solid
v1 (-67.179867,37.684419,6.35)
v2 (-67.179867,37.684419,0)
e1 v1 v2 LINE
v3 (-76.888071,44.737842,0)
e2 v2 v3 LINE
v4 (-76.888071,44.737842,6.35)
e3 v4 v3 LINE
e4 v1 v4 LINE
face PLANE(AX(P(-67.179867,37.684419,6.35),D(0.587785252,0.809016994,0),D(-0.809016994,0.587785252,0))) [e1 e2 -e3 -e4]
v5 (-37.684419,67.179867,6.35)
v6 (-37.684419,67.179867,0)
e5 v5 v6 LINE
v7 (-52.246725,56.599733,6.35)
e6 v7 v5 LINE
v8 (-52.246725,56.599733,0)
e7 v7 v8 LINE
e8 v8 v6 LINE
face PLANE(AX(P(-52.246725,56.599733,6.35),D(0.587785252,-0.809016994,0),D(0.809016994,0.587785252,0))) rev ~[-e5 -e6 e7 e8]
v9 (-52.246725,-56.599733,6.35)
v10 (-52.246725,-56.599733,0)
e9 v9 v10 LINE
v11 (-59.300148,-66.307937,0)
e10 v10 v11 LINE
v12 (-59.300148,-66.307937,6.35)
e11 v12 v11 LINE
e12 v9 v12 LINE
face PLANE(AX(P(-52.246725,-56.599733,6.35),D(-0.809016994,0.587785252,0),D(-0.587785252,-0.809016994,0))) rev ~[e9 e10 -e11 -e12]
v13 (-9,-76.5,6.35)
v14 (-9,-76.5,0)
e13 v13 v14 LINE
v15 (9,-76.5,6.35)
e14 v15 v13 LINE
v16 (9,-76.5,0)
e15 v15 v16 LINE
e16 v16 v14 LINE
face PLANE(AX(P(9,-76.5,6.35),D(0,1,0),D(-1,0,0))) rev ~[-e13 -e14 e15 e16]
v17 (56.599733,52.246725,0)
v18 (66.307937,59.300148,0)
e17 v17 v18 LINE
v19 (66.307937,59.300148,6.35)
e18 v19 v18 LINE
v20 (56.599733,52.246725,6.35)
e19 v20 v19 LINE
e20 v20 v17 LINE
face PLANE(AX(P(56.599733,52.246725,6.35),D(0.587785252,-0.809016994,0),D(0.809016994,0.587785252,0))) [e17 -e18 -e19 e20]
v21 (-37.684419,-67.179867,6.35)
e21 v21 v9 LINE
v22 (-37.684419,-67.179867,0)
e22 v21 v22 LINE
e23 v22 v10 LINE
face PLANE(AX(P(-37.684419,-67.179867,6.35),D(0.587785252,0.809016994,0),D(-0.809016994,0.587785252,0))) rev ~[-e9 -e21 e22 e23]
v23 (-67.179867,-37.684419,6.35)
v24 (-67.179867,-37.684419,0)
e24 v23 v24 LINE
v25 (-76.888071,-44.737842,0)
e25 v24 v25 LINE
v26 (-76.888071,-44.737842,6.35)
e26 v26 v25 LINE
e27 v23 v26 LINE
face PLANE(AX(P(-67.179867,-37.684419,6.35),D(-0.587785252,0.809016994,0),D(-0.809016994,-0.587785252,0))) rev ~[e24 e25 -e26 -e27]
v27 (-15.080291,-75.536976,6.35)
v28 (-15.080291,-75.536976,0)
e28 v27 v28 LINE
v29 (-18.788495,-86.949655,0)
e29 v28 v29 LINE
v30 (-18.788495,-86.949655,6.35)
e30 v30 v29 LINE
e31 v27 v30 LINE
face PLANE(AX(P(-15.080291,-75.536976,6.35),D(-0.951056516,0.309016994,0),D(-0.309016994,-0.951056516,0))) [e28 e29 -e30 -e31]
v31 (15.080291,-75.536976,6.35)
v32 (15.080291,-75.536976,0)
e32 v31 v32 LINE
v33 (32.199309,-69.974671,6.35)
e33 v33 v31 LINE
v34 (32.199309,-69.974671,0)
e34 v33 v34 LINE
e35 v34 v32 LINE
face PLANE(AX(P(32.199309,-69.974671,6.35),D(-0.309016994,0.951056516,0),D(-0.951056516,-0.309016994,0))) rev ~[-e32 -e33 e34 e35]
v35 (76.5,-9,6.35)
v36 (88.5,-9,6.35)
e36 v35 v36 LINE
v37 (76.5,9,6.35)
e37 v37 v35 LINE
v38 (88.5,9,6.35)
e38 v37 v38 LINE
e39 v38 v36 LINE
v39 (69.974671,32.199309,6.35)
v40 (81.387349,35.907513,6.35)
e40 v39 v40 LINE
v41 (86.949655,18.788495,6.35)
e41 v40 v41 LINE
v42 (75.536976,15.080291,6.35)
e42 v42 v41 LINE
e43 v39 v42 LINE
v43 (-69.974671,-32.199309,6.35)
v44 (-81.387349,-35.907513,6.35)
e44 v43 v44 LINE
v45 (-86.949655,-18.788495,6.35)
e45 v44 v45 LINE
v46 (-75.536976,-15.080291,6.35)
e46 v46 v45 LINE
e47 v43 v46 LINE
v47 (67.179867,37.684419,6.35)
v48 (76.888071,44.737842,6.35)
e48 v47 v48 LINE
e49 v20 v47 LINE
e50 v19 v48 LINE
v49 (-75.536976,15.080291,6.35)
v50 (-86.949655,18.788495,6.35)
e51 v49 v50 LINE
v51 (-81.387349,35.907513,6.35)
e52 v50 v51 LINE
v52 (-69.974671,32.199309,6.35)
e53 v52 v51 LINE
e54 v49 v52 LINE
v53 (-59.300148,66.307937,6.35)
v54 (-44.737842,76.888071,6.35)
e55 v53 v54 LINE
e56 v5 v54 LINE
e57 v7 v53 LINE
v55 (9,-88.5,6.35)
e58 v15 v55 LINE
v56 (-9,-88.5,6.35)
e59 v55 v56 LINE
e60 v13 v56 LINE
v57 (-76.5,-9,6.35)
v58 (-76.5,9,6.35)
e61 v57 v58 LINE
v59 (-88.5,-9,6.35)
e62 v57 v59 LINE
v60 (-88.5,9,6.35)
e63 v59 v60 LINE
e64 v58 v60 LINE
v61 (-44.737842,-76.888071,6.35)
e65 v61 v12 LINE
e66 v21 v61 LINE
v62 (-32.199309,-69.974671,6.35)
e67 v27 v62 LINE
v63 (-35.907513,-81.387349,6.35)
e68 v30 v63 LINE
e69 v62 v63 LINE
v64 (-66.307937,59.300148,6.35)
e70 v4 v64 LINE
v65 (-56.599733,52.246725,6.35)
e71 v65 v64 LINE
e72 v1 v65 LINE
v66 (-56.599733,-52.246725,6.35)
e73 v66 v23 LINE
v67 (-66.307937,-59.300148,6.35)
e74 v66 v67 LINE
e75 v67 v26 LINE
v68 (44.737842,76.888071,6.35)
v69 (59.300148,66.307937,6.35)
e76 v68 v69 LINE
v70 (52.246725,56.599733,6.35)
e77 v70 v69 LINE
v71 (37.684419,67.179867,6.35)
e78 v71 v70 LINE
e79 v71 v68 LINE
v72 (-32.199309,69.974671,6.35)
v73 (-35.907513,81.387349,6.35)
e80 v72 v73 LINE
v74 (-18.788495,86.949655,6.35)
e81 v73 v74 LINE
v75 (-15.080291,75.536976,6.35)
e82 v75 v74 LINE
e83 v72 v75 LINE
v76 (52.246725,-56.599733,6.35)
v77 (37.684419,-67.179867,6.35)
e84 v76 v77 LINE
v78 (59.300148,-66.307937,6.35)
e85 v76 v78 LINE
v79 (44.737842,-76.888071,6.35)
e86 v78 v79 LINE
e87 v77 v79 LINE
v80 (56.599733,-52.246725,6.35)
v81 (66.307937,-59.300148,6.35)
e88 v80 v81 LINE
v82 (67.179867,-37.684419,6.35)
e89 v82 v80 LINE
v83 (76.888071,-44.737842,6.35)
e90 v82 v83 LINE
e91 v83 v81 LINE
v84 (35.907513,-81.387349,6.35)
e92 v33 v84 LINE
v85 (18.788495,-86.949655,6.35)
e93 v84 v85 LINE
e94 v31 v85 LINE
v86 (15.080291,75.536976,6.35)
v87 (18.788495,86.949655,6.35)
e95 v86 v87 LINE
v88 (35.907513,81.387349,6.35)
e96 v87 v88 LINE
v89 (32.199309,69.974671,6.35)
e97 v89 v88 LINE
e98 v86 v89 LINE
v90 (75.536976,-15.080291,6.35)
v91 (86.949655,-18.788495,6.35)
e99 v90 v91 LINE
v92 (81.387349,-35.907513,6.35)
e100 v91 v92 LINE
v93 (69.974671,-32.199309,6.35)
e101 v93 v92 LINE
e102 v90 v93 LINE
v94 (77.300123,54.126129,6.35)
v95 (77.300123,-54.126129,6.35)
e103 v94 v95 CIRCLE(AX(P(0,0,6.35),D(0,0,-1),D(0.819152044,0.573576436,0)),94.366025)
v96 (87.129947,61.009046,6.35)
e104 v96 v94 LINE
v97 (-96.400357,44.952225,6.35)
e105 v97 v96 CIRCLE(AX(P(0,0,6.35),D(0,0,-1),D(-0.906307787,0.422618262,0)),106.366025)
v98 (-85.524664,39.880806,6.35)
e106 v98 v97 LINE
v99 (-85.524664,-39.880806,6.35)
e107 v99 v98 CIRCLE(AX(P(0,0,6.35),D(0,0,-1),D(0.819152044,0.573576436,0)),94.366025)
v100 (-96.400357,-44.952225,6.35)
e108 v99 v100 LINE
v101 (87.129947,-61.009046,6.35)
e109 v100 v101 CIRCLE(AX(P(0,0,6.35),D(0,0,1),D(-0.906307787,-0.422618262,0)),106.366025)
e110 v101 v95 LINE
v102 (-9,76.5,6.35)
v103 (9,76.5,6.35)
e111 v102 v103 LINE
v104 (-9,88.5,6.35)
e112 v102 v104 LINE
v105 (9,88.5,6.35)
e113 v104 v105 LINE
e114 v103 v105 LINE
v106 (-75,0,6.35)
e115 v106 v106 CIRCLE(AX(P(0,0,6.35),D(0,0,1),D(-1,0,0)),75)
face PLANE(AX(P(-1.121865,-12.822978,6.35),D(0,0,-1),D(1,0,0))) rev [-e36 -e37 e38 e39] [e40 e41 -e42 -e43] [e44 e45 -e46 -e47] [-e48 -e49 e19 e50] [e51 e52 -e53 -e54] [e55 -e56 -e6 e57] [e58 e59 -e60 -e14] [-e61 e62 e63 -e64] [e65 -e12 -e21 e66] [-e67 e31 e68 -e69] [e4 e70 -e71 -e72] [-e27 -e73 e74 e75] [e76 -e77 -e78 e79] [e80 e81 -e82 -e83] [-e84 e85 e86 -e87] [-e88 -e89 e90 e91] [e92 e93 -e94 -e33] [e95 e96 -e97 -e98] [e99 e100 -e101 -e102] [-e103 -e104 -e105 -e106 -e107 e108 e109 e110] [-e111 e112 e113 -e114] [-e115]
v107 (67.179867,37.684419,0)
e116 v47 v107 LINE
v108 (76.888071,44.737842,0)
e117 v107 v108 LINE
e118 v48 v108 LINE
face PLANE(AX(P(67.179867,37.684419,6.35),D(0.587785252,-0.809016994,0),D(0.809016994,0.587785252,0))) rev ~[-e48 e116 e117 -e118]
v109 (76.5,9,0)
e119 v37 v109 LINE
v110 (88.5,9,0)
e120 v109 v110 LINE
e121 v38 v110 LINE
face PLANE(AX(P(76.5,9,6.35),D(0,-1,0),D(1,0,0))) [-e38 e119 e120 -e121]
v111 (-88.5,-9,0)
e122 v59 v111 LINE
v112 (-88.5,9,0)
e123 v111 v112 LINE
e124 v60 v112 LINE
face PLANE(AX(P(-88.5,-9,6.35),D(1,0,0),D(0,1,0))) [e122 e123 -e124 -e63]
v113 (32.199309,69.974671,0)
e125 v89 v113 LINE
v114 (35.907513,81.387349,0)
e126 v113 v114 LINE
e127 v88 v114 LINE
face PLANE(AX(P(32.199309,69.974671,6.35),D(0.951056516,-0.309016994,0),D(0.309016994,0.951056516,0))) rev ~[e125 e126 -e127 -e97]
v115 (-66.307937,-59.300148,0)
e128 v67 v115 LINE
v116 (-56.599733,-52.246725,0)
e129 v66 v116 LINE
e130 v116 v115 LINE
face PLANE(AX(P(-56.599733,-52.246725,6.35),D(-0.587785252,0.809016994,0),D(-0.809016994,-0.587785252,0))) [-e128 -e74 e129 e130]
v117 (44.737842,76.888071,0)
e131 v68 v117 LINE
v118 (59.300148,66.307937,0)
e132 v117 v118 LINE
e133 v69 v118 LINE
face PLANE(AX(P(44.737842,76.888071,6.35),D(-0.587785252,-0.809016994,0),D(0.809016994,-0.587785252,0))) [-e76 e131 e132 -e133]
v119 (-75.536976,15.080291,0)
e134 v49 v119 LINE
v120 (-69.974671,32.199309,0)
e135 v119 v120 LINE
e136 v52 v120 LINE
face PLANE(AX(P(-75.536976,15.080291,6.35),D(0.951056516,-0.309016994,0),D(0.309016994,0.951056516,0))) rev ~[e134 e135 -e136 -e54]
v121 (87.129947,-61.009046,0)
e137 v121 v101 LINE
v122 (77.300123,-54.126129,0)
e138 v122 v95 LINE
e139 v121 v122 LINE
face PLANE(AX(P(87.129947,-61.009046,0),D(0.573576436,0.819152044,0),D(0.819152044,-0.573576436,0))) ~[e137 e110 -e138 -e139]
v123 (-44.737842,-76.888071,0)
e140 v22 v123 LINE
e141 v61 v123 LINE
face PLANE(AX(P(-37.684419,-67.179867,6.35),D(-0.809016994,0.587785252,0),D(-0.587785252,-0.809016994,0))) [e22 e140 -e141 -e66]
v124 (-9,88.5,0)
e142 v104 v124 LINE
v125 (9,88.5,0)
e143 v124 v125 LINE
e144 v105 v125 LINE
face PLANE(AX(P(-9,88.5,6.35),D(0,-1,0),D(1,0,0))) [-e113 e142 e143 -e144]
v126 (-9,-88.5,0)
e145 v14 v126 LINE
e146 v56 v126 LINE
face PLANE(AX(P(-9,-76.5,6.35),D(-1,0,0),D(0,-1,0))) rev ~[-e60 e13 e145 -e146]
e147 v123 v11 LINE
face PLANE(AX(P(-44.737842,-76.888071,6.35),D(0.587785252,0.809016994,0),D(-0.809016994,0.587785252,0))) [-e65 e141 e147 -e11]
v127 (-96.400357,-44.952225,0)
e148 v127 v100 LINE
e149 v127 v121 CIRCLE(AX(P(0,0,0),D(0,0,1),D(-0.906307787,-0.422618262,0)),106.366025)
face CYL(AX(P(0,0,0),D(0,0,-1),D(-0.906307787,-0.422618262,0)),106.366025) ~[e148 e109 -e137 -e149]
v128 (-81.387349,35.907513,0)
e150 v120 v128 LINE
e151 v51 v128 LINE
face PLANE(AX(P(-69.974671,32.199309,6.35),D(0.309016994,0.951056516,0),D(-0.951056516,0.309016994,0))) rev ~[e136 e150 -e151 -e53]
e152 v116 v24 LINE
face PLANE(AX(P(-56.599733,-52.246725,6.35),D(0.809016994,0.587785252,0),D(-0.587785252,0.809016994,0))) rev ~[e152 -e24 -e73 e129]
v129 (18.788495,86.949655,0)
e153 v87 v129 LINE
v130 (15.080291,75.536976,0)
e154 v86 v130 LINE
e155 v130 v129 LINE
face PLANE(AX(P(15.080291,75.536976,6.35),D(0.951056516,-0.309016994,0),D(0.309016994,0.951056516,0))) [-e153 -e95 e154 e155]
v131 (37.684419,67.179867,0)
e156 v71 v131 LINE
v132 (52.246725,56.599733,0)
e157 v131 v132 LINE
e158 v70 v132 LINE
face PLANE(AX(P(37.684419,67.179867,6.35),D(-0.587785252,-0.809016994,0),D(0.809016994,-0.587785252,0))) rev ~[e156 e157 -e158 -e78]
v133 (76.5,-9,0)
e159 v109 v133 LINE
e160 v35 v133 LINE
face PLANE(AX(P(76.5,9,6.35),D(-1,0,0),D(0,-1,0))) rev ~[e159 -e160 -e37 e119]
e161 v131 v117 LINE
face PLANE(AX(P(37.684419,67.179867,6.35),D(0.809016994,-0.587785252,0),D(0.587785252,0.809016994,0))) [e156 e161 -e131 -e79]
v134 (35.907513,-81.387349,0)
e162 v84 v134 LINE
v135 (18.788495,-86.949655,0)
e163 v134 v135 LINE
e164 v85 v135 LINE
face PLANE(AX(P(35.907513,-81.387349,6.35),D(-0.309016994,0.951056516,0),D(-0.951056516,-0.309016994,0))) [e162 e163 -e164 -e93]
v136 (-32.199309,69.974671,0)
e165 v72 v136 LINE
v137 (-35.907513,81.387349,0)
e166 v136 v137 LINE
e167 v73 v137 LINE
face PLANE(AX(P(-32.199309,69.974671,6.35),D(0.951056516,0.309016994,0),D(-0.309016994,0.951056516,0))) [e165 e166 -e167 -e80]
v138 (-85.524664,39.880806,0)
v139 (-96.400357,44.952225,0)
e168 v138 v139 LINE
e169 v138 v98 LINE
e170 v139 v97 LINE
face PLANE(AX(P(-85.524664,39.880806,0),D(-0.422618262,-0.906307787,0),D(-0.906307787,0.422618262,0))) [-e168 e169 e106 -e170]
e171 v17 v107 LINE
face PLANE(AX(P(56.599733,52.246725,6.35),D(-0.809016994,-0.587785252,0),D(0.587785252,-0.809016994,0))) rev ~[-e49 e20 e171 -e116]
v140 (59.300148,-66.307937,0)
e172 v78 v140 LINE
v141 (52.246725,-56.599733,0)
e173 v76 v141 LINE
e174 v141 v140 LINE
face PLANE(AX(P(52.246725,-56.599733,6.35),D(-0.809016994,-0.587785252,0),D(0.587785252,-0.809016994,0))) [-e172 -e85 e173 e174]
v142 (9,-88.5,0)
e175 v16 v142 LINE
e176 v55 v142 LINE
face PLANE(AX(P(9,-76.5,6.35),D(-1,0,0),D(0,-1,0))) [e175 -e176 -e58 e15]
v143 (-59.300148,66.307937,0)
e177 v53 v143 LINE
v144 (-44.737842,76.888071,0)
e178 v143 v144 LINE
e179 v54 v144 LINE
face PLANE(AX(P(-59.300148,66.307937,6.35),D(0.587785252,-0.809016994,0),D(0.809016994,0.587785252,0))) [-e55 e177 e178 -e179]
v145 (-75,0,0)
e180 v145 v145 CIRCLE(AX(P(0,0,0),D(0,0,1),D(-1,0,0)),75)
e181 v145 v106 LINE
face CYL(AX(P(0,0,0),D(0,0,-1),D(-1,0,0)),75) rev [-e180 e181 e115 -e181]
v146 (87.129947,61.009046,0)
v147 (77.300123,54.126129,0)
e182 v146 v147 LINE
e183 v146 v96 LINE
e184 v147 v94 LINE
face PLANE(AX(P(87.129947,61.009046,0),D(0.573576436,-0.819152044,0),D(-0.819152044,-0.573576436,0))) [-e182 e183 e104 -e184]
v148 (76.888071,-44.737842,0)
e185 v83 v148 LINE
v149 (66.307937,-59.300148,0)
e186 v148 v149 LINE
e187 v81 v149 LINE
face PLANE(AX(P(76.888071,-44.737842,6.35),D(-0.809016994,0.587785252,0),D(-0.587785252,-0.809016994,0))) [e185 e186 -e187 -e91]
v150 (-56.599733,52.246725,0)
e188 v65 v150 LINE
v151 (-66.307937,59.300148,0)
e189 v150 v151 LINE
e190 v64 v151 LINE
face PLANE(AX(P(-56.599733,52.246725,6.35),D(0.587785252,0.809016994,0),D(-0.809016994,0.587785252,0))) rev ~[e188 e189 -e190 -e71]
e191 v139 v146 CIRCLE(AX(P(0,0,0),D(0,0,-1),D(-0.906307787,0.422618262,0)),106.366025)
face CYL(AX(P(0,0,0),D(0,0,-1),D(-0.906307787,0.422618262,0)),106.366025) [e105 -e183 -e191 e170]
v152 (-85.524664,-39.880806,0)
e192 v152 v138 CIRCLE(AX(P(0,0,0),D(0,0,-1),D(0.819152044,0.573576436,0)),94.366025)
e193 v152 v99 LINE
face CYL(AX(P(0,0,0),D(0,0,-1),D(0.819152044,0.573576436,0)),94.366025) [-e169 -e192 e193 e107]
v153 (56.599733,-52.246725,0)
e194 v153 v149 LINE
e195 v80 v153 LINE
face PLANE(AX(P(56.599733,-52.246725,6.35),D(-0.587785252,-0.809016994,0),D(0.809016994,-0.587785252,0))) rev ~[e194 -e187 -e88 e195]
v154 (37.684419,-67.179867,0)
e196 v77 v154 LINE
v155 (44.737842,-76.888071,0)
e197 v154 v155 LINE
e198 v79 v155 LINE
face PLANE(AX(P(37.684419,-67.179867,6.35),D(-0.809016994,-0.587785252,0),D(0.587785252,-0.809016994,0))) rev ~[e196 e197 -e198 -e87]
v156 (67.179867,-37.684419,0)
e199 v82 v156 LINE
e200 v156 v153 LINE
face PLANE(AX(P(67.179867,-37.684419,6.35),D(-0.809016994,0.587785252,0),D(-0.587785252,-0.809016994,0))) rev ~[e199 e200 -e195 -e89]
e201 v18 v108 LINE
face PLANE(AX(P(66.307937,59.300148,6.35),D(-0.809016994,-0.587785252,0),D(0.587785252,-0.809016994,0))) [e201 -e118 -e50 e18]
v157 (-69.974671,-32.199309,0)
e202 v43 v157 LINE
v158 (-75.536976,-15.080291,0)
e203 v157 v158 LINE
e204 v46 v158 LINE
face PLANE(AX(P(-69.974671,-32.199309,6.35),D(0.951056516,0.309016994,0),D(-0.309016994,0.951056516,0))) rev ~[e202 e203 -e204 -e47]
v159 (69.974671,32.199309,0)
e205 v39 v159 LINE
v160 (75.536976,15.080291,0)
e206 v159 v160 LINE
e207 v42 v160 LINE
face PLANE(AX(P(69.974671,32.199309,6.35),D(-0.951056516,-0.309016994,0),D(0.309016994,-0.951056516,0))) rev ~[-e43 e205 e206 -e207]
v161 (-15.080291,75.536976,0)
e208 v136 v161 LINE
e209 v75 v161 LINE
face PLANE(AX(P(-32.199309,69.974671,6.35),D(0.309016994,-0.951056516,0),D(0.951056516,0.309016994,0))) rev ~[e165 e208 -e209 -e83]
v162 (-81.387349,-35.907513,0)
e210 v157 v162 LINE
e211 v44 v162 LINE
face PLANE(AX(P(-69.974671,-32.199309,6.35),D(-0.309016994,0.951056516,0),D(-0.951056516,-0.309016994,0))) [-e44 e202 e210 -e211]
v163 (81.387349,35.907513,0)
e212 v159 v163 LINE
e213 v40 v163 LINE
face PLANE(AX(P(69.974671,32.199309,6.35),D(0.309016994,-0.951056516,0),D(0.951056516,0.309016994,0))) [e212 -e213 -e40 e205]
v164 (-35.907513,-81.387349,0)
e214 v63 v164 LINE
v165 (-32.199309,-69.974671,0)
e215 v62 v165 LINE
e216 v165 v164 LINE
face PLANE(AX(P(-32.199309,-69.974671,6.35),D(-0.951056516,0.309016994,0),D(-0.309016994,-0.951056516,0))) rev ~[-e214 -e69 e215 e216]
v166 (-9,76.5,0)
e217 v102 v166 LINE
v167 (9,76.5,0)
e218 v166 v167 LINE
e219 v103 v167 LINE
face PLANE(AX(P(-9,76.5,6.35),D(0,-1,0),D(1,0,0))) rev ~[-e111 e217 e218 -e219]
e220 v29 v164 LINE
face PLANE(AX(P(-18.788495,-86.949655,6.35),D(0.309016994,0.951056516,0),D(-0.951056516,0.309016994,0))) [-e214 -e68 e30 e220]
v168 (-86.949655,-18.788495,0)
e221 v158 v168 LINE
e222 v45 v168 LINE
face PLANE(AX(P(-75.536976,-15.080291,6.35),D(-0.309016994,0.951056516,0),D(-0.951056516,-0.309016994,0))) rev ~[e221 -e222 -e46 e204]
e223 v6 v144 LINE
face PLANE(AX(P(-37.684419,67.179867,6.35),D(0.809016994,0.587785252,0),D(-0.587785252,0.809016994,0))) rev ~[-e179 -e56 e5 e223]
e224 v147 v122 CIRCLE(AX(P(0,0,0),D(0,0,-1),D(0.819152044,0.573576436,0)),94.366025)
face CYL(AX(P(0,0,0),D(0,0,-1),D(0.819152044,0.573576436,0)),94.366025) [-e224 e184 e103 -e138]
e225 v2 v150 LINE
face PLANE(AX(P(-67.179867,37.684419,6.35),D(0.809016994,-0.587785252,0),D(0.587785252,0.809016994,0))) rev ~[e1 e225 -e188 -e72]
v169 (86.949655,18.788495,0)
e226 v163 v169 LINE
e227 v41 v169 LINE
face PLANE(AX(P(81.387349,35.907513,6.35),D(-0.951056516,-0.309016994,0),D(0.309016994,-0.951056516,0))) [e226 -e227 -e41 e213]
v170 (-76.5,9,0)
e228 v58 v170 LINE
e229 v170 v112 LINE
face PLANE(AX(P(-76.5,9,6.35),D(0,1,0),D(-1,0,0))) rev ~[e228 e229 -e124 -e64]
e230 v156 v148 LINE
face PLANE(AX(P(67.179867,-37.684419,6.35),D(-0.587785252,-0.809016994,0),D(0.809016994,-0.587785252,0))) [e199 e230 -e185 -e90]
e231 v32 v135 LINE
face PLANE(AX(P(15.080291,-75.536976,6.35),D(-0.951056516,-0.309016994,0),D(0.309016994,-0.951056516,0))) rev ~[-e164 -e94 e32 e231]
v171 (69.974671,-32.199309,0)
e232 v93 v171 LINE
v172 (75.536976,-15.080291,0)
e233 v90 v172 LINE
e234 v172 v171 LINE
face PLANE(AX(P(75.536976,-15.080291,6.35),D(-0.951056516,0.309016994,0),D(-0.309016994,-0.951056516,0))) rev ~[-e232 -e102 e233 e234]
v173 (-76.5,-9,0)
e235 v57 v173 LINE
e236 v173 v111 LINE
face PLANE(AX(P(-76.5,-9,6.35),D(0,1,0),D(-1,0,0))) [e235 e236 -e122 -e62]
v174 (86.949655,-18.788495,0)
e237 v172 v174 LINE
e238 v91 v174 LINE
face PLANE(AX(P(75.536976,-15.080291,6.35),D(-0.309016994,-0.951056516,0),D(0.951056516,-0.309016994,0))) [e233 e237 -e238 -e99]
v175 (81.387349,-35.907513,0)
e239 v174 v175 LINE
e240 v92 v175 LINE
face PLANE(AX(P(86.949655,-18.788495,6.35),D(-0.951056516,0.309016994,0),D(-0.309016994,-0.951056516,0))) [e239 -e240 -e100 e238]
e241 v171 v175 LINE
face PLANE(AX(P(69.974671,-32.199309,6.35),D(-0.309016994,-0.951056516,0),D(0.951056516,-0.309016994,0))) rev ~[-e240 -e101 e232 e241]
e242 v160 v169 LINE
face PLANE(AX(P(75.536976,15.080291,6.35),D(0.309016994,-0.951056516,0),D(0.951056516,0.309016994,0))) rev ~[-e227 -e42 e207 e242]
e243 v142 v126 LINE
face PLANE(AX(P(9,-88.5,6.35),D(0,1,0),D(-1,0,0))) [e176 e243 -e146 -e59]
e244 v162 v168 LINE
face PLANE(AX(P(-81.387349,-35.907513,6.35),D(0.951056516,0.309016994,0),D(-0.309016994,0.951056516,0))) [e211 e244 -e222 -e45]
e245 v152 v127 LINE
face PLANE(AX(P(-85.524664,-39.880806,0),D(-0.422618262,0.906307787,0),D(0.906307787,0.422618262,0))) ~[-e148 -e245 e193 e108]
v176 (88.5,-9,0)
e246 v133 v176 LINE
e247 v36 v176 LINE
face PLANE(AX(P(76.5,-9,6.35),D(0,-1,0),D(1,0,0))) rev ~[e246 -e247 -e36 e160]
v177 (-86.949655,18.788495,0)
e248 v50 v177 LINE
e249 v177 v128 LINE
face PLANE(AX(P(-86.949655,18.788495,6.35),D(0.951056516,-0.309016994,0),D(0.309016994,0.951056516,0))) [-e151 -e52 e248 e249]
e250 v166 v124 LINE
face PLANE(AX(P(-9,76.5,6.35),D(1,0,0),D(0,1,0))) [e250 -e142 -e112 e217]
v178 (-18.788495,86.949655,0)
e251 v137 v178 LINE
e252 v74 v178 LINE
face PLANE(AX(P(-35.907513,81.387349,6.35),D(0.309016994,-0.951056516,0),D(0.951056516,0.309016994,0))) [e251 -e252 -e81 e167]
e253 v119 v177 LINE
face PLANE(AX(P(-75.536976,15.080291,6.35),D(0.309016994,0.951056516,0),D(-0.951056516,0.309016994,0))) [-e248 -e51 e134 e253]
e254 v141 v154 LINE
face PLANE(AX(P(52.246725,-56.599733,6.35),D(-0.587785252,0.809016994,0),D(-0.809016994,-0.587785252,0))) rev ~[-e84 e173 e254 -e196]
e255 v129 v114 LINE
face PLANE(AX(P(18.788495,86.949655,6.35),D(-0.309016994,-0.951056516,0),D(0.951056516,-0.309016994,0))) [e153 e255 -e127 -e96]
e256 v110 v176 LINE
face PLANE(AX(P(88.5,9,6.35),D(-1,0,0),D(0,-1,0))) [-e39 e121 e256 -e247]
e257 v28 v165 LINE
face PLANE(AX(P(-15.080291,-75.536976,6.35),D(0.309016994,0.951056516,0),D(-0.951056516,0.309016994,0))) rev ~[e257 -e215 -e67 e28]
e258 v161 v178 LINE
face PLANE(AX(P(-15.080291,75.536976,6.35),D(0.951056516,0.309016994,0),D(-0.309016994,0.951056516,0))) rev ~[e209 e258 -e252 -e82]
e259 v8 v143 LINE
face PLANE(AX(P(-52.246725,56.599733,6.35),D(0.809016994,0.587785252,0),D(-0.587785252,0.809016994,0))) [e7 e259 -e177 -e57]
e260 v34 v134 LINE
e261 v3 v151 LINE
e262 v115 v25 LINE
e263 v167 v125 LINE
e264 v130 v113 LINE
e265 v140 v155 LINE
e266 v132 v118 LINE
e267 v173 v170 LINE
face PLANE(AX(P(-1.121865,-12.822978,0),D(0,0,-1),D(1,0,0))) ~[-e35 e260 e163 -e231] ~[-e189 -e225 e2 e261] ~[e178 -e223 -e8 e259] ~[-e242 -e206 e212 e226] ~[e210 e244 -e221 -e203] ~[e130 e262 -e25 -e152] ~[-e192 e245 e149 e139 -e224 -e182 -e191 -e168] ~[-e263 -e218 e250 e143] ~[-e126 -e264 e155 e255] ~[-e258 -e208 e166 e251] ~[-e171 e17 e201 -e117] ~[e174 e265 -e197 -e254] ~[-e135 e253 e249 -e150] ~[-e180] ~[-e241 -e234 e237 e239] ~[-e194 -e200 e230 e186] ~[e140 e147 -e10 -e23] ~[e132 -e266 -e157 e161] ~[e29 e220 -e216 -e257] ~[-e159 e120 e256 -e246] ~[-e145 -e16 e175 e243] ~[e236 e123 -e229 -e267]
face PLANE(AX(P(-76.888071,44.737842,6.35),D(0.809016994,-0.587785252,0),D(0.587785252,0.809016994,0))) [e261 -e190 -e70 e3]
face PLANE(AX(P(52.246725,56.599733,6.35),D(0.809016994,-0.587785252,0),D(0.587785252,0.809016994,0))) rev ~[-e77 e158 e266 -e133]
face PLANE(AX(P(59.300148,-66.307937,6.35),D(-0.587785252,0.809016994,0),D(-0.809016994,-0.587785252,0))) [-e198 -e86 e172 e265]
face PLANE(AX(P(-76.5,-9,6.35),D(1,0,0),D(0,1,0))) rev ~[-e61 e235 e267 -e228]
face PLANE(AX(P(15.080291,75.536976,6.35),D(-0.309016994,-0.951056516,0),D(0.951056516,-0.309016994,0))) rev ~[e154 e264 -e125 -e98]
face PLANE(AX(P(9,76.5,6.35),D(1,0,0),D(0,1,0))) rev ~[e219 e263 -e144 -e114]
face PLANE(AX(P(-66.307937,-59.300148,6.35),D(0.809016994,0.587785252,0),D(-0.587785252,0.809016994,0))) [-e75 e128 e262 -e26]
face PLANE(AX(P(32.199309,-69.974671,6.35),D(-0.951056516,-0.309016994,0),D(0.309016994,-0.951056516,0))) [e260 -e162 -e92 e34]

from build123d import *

# Parameters (mm, degrees)
SKETCH1_R           = 75
BOSS_EXTRUDE1_DEPTH = 6.35
SKETCH2_W           = 18
SKETCH2_H           = 12
CUT_EXTRUDE1_DEPTH  = 144.69092772
CIRPATTERN1_COUNT   = 20


with BuildPart() as part:
    # Sketch1 → Boss-Extrude1 (new body)
    with BuildSketch(Plane.XY):
        with BuildLine():
            Line((-85.524663655, 39.880805624), (-96.4003571, 44.952224764))
            ThreePointArc((-96.4003571, 44.952224764), (-9.270409947, 105.961270564), (87.129947152, 61.0090458))
            Line((87.129947152, 61.0090458), (77.300122621, 54.126128564))
            ThreePointArc((77.300122621, 54.126128564), (8.224541034, -94.006934187), (-85.524663655, 39.880805624))
        make_face()
        with Locations(Location((0, 0, 0), (0, 0, 180))):
            Circle(SKETCH1_R, mode=Mode.SUBTRACT)
    boss_extrude1 = extrude(amount=BOSS_EXTRUDE1_DEPTH)

    # Mirror1: Boss-Extrude1 across plane
    add(boss_extrude1.mirror(Plane.ZX))

    # Sketch2 → Cut-Extrude1 (cut, through all)
    with BuildSketch(Plane.XY.offset(6.35)):
        with Locations((0, 82.5)):
            Rectangle(SKETCH2_W, SKETCH2_H)
    cut_extrude1 = extrude(amount=-CUT_EXTRUDE1_DEPTH, mode=Mode.SUBTRACT)

    # CirPattern1: Cut-Extrude1 ×20 about axis
    cirpattern1_axis = Axis((0, 0, 0), (0, 0, 1))
    for i in range(1, CIRPATTERN1_COUNT):
        add(cut_extrude1.rotate(cirpattern1_axis, i * 360 / CIRPATTERN1_COUNT), mode=Mode.SUBTRACT)


solid = part.part
